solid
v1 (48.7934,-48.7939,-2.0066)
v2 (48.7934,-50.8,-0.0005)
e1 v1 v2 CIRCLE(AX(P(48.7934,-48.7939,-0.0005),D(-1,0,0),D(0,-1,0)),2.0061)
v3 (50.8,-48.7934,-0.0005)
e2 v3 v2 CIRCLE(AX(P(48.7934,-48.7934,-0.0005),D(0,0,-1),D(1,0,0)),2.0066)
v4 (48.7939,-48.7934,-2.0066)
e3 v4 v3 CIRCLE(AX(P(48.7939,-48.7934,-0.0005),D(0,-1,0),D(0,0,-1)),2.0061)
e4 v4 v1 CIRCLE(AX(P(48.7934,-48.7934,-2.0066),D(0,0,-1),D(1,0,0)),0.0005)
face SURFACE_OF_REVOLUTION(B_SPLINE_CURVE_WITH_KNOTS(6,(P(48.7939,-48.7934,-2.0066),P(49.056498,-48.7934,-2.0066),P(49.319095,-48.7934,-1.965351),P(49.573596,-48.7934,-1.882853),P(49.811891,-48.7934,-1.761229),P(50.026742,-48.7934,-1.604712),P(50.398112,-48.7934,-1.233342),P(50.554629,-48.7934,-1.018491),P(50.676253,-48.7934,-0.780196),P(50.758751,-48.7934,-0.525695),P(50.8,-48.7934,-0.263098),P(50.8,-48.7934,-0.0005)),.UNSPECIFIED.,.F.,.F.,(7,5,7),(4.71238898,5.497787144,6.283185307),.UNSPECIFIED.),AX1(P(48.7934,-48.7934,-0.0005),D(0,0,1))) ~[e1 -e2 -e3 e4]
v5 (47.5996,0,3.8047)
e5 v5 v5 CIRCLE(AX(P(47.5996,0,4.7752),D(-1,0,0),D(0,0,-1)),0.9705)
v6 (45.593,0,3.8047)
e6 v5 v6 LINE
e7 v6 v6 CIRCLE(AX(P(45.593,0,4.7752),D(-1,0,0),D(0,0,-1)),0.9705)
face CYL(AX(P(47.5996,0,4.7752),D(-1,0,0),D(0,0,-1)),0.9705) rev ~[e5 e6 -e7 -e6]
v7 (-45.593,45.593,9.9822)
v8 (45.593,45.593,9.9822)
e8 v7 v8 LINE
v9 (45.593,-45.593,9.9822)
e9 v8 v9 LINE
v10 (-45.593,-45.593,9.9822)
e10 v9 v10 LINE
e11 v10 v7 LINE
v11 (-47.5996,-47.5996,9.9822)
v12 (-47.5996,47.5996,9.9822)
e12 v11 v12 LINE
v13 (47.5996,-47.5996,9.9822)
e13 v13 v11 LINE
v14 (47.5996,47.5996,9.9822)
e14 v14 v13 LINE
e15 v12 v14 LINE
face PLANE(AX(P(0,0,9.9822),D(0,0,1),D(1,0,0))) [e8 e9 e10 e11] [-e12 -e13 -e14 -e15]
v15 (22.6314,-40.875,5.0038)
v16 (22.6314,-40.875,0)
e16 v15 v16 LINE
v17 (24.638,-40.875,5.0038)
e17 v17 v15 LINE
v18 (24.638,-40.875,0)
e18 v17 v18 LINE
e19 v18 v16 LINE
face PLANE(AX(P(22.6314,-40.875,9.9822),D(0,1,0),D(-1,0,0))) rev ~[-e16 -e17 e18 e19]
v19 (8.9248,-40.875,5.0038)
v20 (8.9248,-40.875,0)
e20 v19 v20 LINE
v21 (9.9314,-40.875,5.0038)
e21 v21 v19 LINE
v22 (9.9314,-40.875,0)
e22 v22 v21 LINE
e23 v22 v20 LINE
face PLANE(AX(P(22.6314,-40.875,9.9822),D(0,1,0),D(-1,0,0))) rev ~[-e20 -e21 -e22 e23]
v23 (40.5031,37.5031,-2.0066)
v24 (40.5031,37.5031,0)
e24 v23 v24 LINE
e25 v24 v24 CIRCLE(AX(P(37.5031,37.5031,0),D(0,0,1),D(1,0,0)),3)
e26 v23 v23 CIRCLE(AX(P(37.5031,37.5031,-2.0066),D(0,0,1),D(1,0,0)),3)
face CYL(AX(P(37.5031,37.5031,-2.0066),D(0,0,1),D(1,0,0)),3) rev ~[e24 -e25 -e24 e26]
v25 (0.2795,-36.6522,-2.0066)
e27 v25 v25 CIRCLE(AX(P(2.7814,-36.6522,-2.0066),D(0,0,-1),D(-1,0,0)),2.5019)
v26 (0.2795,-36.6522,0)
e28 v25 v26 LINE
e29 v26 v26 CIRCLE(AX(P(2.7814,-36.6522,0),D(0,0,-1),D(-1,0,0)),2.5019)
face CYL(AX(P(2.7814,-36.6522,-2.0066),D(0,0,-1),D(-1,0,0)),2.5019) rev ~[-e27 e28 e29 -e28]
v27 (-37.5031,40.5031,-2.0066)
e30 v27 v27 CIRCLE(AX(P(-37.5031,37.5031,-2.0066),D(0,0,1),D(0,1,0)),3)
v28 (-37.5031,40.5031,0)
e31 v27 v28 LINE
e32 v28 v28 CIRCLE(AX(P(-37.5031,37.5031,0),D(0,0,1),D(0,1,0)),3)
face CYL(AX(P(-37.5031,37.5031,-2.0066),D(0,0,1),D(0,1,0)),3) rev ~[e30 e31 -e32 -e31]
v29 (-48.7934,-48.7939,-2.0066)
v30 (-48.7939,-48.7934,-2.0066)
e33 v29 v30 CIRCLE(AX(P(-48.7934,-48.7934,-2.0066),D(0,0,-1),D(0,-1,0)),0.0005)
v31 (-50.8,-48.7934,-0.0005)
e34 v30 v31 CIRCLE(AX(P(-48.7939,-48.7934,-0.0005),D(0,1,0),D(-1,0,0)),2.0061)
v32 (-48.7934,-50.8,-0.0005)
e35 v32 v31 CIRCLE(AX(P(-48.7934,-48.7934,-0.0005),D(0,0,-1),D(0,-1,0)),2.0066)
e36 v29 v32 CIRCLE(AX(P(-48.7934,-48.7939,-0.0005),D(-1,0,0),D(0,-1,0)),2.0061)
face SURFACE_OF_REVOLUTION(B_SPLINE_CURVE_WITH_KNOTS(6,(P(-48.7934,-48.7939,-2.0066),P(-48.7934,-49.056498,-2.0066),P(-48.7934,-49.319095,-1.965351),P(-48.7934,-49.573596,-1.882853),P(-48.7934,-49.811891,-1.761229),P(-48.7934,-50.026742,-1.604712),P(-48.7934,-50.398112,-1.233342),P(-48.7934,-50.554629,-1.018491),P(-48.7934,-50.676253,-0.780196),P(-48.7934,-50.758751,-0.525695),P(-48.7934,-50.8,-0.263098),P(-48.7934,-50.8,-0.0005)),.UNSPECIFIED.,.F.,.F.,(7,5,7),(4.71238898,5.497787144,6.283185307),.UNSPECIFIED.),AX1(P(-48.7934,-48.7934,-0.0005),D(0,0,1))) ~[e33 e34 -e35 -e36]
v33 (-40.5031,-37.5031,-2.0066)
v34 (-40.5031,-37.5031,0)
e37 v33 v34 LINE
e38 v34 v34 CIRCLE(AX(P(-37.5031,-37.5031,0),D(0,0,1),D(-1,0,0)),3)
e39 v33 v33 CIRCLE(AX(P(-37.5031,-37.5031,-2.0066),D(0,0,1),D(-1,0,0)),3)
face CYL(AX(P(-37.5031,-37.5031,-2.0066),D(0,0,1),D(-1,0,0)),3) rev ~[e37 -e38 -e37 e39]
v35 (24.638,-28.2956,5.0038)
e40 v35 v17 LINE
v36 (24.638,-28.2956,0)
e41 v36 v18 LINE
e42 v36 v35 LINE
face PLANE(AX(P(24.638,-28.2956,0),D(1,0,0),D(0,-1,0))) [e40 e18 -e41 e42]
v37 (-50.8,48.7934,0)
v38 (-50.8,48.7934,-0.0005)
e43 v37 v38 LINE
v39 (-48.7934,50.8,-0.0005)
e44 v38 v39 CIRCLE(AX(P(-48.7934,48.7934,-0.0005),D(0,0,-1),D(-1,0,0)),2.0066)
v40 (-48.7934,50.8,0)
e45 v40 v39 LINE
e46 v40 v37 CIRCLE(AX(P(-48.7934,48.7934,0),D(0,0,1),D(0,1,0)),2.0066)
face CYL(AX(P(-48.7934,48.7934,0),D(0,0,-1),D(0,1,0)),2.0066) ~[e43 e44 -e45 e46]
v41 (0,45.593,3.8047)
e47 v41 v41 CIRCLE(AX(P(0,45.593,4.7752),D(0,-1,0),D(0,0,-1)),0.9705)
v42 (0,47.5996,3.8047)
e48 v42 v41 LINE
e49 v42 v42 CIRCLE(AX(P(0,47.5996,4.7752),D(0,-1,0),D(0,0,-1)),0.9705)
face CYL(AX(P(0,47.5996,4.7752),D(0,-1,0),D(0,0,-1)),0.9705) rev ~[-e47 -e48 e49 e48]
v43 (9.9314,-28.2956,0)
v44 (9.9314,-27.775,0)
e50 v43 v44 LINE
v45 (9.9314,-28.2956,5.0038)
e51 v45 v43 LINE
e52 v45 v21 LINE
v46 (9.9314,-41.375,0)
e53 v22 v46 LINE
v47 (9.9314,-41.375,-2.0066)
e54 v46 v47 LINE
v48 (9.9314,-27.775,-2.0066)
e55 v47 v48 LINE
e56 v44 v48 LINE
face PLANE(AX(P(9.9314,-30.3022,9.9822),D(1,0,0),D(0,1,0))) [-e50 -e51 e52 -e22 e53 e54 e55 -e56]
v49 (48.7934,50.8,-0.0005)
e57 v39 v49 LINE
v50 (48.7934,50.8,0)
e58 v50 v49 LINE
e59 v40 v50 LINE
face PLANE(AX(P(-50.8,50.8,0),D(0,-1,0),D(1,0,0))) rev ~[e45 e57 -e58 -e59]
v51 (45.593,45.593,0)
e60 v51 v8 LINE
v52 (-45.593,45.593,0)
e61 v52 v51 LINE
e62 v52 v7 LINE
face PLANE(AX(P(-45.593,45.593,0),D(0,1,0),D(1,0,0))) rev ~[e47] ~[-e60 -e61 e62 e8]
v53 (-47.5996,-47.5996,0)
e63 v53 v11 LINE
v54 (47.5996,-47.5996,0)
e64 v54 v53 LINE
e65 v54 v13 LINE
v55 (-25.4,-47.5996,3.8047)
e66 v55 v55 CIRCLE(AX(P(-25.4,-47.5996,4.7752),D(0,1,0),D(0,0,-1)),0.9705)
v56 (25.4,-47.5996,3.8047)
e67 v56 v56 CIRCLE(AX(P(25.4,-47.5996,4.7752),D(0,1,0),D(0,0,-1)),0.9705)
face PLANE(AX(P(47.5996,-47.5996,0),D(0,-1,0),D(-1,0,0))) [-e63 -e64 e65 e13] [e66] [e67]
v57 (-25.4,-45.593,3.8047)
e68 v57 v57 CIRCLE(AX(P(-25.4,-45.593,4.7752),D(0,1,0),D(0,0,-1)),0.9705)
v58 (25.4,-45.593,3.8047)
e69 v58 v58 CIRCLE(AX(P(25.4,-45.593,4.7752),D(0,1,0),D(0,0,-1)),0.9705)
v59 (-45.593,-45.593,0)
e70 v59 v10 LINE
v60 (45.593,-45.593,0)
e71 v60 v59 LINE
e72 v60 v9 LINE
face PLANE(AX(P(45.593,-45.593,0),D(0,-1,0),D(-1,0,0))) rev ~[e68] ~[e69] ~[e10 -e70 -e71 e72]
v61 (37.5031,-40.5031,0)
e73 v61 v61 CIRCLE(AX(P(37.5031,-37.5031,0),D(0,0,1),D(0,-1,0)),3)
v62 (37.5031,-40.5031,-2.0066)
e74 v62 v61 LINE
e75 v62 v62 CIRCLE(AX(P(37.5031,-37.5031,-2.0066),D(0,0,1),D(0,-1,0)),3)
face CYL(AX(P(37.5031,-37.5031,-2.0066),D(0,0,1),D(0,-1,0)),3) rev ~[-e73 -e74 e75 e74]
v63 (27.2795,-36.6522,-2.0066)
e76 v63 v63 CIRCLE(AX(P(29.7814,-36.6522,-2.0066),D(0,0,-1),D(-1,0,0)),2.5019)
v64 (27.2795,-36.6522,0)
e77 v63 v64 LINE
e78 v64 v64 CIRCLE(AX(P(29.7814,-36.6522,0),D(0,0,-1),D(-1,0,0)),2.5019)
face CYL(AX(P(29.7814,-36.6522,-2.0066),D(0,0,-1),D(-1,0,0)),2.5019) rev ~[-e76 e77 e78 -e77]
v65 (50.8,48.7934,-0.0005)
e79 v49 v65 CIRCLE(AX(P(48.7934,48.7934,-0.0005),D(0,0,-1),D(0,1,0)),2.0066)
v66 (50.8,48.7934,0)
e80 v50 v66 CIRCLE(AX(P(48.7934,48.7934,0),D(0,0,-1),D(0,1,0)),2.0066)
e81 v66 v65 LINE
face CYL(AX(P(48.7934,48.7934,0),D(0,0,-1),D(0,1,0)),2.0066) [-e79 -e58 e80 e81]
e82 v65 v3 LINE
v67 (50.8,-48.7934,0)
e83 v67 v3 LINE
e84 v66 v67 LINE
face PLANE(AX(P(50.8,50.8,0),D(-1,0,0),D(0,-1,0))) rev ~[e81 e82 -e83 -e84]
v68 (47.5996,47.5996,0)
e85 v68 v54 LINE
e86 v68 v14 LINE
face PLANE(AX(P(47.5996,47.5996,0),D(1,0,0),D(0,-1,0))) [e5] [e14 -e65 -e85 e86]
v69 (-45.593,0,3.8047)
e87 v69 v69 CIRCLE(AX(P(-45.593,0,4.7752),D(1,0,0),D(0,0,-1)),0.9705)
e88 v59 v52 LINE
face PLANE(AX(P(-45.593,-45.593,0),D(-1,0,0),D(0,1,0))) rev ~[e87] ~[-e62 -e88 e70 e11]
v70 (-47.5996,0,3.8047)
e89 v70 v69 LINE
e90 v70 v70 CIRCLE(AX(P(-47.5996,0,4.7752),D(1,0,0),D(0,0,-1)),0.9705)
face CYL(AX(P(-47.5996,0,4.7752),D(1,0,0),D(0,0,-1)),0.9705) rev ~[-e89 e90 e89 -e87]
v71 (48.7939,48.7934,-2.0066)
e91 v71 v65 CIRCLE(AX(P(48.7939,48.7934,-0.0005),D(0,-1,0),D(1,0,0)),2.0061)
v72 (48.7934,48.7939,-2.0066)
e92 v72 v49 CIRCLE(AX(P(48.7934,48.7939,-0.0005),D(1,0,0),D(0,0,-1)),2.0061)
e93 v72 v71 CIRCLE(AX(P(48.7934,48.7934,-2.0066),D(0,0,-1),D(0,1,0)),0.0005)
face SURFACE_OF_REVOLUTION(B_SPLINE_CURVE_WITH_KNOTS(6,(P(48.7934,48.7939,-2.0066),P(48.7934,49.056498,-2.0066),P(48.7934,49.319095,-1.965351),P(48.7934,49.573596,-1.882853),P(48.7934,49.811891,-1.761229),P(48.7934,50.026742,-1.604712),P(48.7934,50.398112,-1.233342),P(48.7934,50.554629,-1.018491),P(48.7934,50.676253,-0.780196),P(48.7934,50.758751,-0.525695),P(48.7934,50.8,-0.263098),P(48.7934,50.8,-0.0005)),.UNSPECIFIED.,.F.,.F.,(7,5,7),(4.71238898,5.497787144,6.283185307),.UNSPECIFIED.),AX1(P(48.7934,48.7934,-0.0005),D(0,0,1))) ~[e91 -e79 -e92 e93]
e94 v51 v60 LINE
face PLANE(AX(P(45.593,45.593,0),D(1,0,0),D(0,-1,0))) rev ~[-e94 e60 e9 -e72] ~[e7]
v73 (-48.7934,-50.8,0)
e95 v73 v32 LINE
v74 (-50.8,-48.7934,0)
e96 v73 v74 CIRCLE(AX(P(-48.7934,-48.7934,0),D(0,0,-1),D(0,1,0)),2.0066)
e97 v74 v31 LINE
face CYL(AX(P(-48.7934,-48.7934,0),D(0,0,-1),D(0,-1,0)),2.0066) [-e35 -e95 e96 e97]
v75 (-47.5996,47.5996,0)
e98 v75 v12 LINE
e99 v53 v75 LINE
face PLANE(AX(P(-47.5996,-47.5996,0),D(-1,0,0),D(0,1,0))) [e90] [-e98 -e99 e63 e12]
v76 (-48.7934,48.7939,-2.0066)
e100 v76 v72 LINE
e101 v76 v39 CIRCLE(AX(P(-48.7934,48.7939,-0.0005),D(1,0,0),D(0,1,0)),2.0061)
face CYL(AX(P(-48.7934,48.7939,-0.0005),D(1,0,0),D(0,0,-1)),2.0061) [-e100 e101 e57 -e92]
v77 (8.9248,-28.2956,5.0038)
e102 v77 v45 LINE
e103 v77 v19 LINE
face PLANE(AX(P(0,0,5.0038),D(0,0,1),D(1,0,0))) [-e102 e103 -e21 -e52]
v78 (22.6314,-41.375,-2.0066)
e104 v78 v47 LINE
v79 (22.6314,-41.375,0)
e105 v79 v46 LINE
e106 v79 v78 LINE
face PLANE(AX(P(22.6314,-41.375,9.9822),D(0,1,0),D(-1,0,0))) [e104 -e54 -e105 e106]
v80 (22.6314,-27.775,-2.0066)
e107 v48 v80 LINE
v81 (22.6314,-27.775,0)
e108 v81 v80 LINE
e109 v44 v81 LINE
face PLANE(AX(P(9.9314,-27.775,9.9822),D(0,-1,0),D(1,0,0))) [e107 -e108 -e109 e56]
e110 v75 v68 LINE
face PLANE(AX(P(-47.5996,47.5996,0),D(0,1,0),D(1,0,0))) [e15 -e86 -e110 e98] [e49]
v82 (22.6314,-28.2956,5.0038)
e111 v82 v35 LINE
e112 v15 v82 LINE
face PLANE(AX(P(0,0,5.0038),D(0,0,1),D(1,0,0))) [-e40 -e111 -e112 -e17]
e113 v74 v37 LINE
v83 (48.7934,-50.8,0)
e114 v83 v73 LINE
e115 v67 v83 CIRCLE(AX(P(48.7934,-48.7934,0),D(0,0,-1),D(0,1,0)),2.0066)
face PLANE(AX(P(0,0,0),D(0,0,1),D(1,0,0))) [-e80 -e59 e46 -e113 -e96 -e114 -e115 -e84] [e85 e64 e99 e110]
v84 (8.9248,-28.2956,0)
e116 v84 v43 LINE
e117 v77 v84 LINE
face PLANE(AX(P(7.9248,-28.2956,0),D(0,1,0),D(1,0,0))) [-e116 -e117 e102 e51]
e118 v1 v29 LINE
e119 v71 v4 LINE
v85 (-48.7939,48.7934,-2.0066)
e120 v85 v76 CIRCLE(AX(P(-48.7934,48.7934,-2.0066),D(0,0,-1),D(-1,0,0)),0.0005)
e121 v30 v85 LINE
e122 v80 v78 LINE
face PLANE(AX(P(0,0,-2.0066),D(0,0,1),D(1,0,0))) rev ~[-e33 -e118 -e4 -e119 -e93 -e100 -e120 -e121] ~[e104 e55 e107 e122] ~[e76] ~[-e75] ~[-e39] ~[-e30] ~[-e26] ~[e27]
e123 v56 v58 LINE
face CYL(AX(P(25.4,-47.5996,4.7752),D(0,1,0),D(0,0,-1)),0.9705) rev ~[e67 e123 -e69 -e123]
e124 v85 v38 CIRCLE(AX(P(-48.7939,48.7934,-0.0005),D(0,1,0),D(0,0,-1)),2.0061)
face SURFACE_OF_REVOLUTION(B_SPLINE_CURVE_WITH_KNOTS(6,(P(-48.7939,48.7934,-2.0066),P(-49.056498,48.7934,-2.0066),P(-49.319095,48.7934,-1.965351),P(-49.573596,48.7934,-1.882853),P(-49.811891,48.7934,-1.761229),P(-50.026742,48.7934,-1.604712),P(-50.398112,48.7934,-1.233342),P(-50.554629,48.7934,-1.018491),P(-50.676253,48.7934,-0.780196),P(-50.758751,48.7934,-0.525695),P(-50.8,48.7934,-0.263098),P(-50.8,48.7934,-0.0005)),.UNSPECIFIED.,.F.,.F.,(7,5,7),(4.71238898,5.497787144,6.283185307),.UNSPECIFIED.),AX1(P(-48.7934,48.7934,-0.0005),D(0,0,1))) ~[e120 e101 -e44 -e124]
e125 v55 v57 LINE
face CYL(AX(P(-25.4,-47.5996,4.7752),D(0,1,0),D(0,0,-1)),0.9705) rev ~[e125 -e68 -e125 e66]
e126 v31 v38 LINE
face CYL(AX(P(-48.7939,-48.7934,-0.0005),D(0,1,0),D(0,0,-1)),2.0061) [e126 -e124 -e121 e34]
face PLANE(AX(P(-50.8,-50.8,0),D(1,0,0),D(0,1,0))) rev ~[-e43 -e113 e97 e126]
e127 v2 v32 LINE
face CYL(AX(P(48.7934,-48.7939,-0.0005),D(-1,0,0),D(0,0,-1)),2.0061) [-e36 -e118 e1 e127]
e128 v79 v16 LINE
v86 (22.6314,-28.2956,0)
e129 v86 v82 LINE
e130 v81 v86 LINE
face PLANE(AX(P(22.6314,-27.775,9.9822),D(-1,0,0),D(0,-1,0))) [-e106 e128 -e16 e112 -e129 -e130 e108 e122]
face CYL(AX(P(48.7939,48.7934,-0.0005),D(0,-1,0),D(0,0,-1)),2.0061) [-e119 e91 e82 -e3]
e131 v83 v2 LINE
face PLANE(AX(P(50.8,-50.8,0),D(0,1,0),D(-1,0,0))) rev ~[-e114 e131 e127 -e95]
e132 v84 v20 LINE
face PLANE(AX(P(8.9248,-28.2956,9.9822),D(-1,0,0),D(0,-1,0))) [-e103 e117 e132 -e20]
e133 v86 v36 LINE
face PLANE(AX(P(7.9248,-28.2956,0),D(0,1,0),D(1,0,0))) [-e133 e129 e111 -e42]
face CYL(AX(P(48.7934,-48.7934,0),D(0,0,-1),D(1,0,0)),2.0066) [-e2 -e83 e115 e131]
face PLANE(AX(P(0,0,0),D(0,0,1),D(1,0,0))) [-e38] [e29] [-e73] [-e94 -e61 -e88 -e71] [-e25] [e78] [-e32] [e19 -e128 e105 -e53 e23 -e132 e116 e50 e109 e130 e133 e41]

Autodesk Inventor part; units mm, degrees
ref_plane "YZ Plane" through (0, 0, 0) normal (1, 0, 0) x (0, 1, 0)
ref_plane "XZ Plane" through (0, 0, 0) normal (0, 1, 0) x (-1, 0, 0)
ref_plane "XY Plane" through (0, 0, 0) normal (0, 0, 1) x (1, 0, 0)
sketch "Skizze1" plane through (0, 0, 0) normal (0, 0, 1) x (1, 0, 0)
  line L0 (-50.8, 50.8) -> (50.8, 50.8)
  line L1 (50.8, 50.8) -> (50.8, -50.8)
  line L2 (50.8, -50.8) -> (-50.8, -50.8)
  line L3 (-50.8, -50.8) -> (-50.8, 50.8)
  line L4 (50.8, -50.8) -> (-50.8, 50.8) construction
  point P0 (0, 0)
  point P1 (0, 0)
  dimension "d0" = 101.6
  dimension "d1" = 101.6
extrude "Extrusion1" add sketch "Skizze1" against normal blind 2.0066
fillet "Rundung1" radius 2.0066 4 edges at (50.8, -50.8, -1.0033) (50.8, 50.8, -1.0033) (-50.8, 50.8, -1.0033) (-50.8, -50.8, -1.0033)
fillet "Rundung2" radius 2.0066 8 edges at (-50.2123, -50.2123, -2.0066) (-50.8, 0, -2.0066) (-50.2123, 50.2123, -2.0066) (0, 50.8, -2.0066) (50.2123, 50.2123, -2.0066) (50.8, 0, -2.0066) (50.2123, -50.2123, -2.0066) (0, -50.8, -2.0066)
sketch "Skizze2" plane through (0, 0, 0) normal (0, 0, 1) x (1, 0, 0)
  line L0 (-47.5996, 47.5996) -> (47.5996, 47.5996)
  line L1 (47.5996, 47.5996) -> (47.5996, -47.5996)
  line L2 (47.5996, -47.5996) -> (-47.5996, -47.5996)
  line L3 (-47.5996, -47.5996) -> (-47.5996, 47.5996)
  line L4 (47.5996, -47.5996) -> (-47.5996, 47.5996) construction
  line L5 (-45.593, 45.593) -> (45.593, 45.593)
  line L6 (45.593, 45.593) -> (45.593, -45.593)
  line L7 (45.593, -45.593) -> (-45.593, -45.593)
  line L8 (-45.593, -45.593) -> (-45.593, 45.593)
  line L9 (-45.593, -45.593) -> (45.593, 45.593) construction
  point P0 (0, 0)
  point P1 (0, 0)
  dimension "d6" = 95.1992
  dimension "d7" = 2.0066
extrude "Extrusion2" add sketch "Skizze2" along normal blind 9.9822
sketch "Skizze3" plane through (47.5996, -47.5996, 0) normal (1, 0, 0) x (0, 0, -1)
  line L0 (0, 95.1992) -> (0, 0) projected
  line L1 (0, 95.1992) -> (-9.9822, 95.1992) projected
  line L2 (-9.9822, 0) -> (-9.9822, 95.1992) projected
  line L3 (0, 0) -> (-9.9822, 0) projected
  line L4 (0, 47.5996) -> (-4.7752, 47.5996) construction
  line L5 (0, 95.1992) -> (0, 0) construction
  dimension "d10" = 4.7752
hole "Bohrung1" at (47.5996, 0, 4.7752) direction (-1, 0, 0) diameter 1.941 depth 7.675 tip angle 118 thread size "3-48 UNC" class "2B" standard "ANSI Unified Screw Threads"
pattern_circular "Runde Anordnung1" count 3 over 180 about axis through (0, 0, -10) along (0, 0, 1) of "Bohrung1"
sketch "Skizze4" plane through (-47.5996, -47.5996, 0) normal (0, -1, 0) x (1, 0, 0)
  line L0 (95.1992, 0) -> (0, 0) projected
  line L1 (95.1992, 0) -> (95.1992, 9.9822) projected
  line L2 (0, 9.9822) -> (95.1992, 9.9822) projected
  line L3 (0, 0) -> (0, 9.9822) projected
  line L4 (47.5996, 0) -> (47.5996, 4.7752) construction
  line L5 (22.1996, 4.7752) -> (72.9996, 4.7752) construction
  dimension "d21" = 4.7752
  dimension "d22" = 50.8
hole "Bohrung2" at (-25.4, -47.5996, 4.7752) at (25.4, -47.5996, 4.7752) direction (0, 1, 0) diameter 1.941 depth 7.675 tip angle 118 thread size "3-48 UNC" class "2B" standard "ANSI Unified Screw Threads"
sketch "Skizze5" plane through (0, 0, -2.0066) normal (0, 0, -1) x (-1, 0, 0)
  line L0 (37.5031, -37.5031) -> (-37.5031, -37.5031) construction
  line L1 (-37.5031, -37.5031) -> (-37.5031, 37.5031) construction
  line L2 (-37.5031, 37.5031) -> (37.5031, 37.5031) construction
  line L3 (37.5031, 37.5031) -> (37.5031, -37.5031) construction
  line L4 (-37.5031, 37.5031) -> (37.5031, -37.5031) construction
  point P0 (0, 0)
  point P1 (0, 0)
  dimension "d30" = 75.0062
hole "Bohrung3" at (-37.5031, 37.5031, -2.0066) direction (0, 0, 1) diameter 6 end through all
sketch "Skizze6" plane through (0, 0, 0) normal (0, 0, 1) x (1, 0, 0)
  circle A0 centre (-37.5031, 37.5031) radius 3 projected
  line L0 (-48.7934, 48.7934) -> (-48.7934, -48.7934) projected
  line L1 (48.7934, 48.7934) -> (-48.7934, 48.7934) projected
  line L2 (48.7934, -48.7934) -> (48.7934, 48.7934) projected
  line L3 (-48.7934, -48.7934) -> (48.7934, -48.7934) projected
  circle A1 centre (-37.5031, 37.5031) radius 3.45
  circle A2 centre (-37.5031, 37.5031) radius 1.4986
  point P0 (0, 0)
  dimension "d38" = 2.9972
  dimension "d39" = 6.9
extrude "Extrusion3" add sketch "Skizze6" along normal blind 5 contours A0 | A1
pattern_circular "Runde Anordnung2" count 4 over 360 about axis through (0, 0, -10) along (0, 0, 1) of "Bohrung3", "Extrusion3"
sketch "Skizze7" plane through (0, 0, 0) normal (0, 0, 1) x (1, 0, 0)
  circle A0 centre (37.5031, 37.5031) radius 3 projected
  circle A1 centre (37.5031, -37.5031) radius 3 projected
  circle A2 centre (-37.5031, -37.5031) radius 3 projected
  circle A3 centre (-37.5031, 37.5031) radius 3 projected
  line L0 (-48.7934, 48.7934) -> (-48.7934, -48.7934) projected
  line L1 (48.7934, 48.7934) -> (-48.7934, 48.7934) projected
  line L2 (48.7934, -48.7934) -> (48.7934, 48.7934) projected
  line L3 (-48.7934, -48.7934) -> (48.7934, -48.7934) projected
  line L4 (7.9248, -28.2956) -> (24.638, -28.2956)
  line L5 (24.638, -28.2956) -> (24.638, -44.2214)
  line L6 (24.638, -44.2214) -> (7.9248, -44.2214)
  line L7 (7.9248, -44.2214) -> (7.9248, -28.2956)
  line L8 (9.9314, -30.3022) -> (22.6314, -30.3022)
  line L9 (22.6314, -30.3022) -> (22.6314, -43.0022)
  line L10 (22.6314, -43.0022) -> (9.9314, -43.0022)
  line L11 (9.9314, -43.0022) -> (9.9314, -30.3022)
  line L12 (16.2814, -28.2956) -> (16.2814, -30.3022) construction
  circle A4 centre (2.7814, -36.6522) radius 1.4986
  circle A5 centre (2.7814, -36.6522) radius 3.4163
  circle A6 centre (29.7814, -36.6522) radius 1.4986
  circle A7 centre (29.7814, -36.6522) radius 3.4163
  line L13 (9.9314, -43.0022) -> (22.6314, -30.3022) construction
  line L14 (29.7814, -36.6522) -> (2.7814, -36.6522) construction
  line L15 (50.8, -48.7934) -> (48.7934, -48.7934) projected
  arc A8 (48.7934, -50.8) -> (50.8, -48.7934) centre (48.7934, -48.7934) ccw projected
  line L16 (48.7934, -48.7934) -> (48.7934, -50.8) projected
  line L17 (50.8, 48.7934) -> (50.8, -48.7934) projected
  line L18 (48.7934, -50.8) -> (-48.7934, -50.8) projected
  point P0 (0, 0)
  point P1 (16.2814, -36.6522)
  dimension "d46" = 12.7
  dimension "d49" = 1.2192
  dimension "d51" = 6.8326
  dimension "d52" = 27
  dimension "d53" = 2.9972
  dimension "d58" = 2.0066
  dimension "d59" = 2.0066
  dimension "d61" = 14.1478
  dimension "d70" = 28.1686
  dimension "d71" = 21.0186
  dimension "d72" = 27
extrude "Extrusion4" add sketch "Skizze7" along normal blind 5.0038 contours L4 L5 L6 L7 | A4 | A5 | A6 | A7
sketch "Skizze8" plane through (0, 0, -2.0066) normal (0, 0, -1) x (-1, 0, 0)
  circle A0 centre (-29.7814, -36.6522) radius 2.5019
  circle A1 centre (-2.7814, -36.6522) radius 2.5019
  circle A2 centre (-2.7814, -36.6522) radius 3.4163 projected
  circle A3 centre (-29.7814, -36.6522) radius 3.4163 projected
  point P0 (0, 0)
  dimension "d64" = 5.0038
extrude "Extrusion5" cut sketch "Skizze8" against normal blind 2.0066 contours A0 | A1
sketch "Skizze10" plane through (2.7814, -36.6522, 5.0038) normal (0, 0, 1) x (1, 0, 0)
  circle A0 centre (0, 0) radius 3.4163 projected
  circle A1 centre (27, 0) radius 3.4163 projected
  circle A2 centre (0, 0) radius 1.5875
  circle A3 centre (27, 0) radius 3.4163 projected
  circle A4 centre (27, 0) radius 1.5875
  point P0 (-2.7814, 36.6522)
  dimension "d67" = 3.175
extrude "Extrusion6" cut sketch "Skizze10" against normal blind 3.4798 contours A2 | A4
sketch "Skizze12" plane through (0, 0, 9.9822) normal (0, 0, 1) x (1, 0, 0)
  line L0 (45.593, -45.593) -> (45.593, 45.593) construction
  line L1 (45.593, 45.593) -> (-45.593, 45.593) construction
  line L2 (-45.593, 45.593) -> (-45.593, -45.593) construction
  line L3 (-45.593, -45.593) -> (45.593, -45.593) construction
  circle A0 centre (-37.5031, 37.5031) radius 3.45 construction
  circle A1 centre (-37.5031, -37.5031) radius 3.45 construction
  circle A2 centre (37.5031, -37.5031) radius 3.45 construction
  circle A3 centre (37.5031, 37.5031) radius 3.45 construction
  circle A4 centre (29.7814, -36.6522) radius 3.4163 construction
  circle A5 centre (2.7814, -36.6522) radius 3.4163 construction
  line L4 (24.638, -28.2956) -> (24.638, -44.2214) construction
  line L5 (24.638, -44.2214) -> (7.9248, -44.2214) construction
  line L6 (7.9248, -44.2214) -> (7.9248, -28.2956) construction
  line L7 (7.9248, -28.2956) -> (24.638, -28.2956) construction
  line L8 (-47.625, 47.625) -> (47.625, 47.625) construction
  line L9 (47.625, 47.625) -> (47.625, -47.625) construction
  line L10 (47.625, -47.625) -> (-47.625, -47.625) construction
  line L11 (-47.625, -47.625) -> (-47.625, 47.625) construction
  line L12 (47.625, -47.625) -> (-47.625, 47.625) construction
  line L13 (45.593, -45.593) -> (-45.593, -45.593) construction
  line L14 (-45.593, 45.593) -> (45.593, 45.593) construction
  line L15 (-45.593, -45.593) -> (45.593, 45.593) construction
  line L16 (9.9314, -27.775) -> (22.6314, -27.775)
  line L17 (22.6314, -27.775) -> (22.6314, -41.375)
  line L18 (22.6314, -41.375) -> (9.9314, -41.375)
  line L19 (9.9314, -41.375) -> (9.9314, -27.775)
  line L20 (22.6314, -30.3022) -> (22.6314, -43.0022) projected
  line L21 (9.9314, -43.0022) -> (9.9314, -30.3022) projected
  circle A6 centre (37.5031, 37.5031) radius 1.4986 projected
  circle A7 centre (37.5031, 37.5031) radius 3.45
  circle A8 centre (37.5031, -37.5031) radius 1.4986 projected
  circle A9 centre (37.5031, -37.5031) radius 3.45
  circle A10 centre (29.7814, -36.6522) radius 1.5875 projected
  circle A11 centre (29.7814, -36.6522) radius 3.4163
  line L22 (7.9248, -28.2956) -> (7.9248, -44.2214) projected
  line L23 (24.638, -28.2956) -> (24.638, -44.2214) projected
  line L24 (7.9248, -44.2214) -> (24.638, -44.2214)
  line L25 (24.638, -44.2214) -> (24.638, -40.875)
  line L26 (24.638, -40.875) -> (7.9248, -40.875)
  line L27 (7.9248, -40.875) -> (7.9248, -44.2214)
  line L28 (7.9248, -28.2956) -> (8.9248, -28.2956)
  line L29 (8.9248, -28.2956) -> (8.9248, -40.875)
  line L30 (8.9248, -40.875) -> (7.9248, -40.875)
  line L31 (7.9248, -40.875) -> (7.9248, -28.2956)
  circle A12 centre (2.7814, -36.6522) radius 1.5875 projected
  circle A13 centre (2.7814, -36.6522) radius 3.4163
  circle A14 centre (-37.5031, -37.5031) radius 3 projected
  circle A15 centre (-37.5031, -37.5031) radius 3.45
  circle A16 centre (-37.5031, 37.5031) radius 1.4986 projected
  circle A17 centre (-37.5031, 37.5031) radius 3.45
  point P0 (0, 0)
  point P1 (0, 0)
  point P2 (16.2814, -41.375)
  dimension "d76" = 95.25
  dimension "d77" = 12.7
  dimension "d78" = 13.6
  dimension "d79" = 6.25
  dimension "d80" = 63.9064
  dimension "d84" = 1
  dimension "d87" = 2.8464
  dimension "d88" = 3.3464
extrude "Extrusion7" cut sketch "Skizze12" against normal through all contours L16 L17 L26 L19 | L26 L17 L18 L19
extrude "Extrusion8" cut sketch "Skizze12" against normal up to surface (9.9822 mm away) contours L26 L17 L18 L19 | L19 L18 L17 L26 L23 L24 L22 | L26 L22 L28 L29 | A7 | A9 | A10 | A11 | A12 | A13 | A14 | A15 | A17
equation "\"d59\" = d58"
properties part number "Nanolab CubeDeckel 2"
